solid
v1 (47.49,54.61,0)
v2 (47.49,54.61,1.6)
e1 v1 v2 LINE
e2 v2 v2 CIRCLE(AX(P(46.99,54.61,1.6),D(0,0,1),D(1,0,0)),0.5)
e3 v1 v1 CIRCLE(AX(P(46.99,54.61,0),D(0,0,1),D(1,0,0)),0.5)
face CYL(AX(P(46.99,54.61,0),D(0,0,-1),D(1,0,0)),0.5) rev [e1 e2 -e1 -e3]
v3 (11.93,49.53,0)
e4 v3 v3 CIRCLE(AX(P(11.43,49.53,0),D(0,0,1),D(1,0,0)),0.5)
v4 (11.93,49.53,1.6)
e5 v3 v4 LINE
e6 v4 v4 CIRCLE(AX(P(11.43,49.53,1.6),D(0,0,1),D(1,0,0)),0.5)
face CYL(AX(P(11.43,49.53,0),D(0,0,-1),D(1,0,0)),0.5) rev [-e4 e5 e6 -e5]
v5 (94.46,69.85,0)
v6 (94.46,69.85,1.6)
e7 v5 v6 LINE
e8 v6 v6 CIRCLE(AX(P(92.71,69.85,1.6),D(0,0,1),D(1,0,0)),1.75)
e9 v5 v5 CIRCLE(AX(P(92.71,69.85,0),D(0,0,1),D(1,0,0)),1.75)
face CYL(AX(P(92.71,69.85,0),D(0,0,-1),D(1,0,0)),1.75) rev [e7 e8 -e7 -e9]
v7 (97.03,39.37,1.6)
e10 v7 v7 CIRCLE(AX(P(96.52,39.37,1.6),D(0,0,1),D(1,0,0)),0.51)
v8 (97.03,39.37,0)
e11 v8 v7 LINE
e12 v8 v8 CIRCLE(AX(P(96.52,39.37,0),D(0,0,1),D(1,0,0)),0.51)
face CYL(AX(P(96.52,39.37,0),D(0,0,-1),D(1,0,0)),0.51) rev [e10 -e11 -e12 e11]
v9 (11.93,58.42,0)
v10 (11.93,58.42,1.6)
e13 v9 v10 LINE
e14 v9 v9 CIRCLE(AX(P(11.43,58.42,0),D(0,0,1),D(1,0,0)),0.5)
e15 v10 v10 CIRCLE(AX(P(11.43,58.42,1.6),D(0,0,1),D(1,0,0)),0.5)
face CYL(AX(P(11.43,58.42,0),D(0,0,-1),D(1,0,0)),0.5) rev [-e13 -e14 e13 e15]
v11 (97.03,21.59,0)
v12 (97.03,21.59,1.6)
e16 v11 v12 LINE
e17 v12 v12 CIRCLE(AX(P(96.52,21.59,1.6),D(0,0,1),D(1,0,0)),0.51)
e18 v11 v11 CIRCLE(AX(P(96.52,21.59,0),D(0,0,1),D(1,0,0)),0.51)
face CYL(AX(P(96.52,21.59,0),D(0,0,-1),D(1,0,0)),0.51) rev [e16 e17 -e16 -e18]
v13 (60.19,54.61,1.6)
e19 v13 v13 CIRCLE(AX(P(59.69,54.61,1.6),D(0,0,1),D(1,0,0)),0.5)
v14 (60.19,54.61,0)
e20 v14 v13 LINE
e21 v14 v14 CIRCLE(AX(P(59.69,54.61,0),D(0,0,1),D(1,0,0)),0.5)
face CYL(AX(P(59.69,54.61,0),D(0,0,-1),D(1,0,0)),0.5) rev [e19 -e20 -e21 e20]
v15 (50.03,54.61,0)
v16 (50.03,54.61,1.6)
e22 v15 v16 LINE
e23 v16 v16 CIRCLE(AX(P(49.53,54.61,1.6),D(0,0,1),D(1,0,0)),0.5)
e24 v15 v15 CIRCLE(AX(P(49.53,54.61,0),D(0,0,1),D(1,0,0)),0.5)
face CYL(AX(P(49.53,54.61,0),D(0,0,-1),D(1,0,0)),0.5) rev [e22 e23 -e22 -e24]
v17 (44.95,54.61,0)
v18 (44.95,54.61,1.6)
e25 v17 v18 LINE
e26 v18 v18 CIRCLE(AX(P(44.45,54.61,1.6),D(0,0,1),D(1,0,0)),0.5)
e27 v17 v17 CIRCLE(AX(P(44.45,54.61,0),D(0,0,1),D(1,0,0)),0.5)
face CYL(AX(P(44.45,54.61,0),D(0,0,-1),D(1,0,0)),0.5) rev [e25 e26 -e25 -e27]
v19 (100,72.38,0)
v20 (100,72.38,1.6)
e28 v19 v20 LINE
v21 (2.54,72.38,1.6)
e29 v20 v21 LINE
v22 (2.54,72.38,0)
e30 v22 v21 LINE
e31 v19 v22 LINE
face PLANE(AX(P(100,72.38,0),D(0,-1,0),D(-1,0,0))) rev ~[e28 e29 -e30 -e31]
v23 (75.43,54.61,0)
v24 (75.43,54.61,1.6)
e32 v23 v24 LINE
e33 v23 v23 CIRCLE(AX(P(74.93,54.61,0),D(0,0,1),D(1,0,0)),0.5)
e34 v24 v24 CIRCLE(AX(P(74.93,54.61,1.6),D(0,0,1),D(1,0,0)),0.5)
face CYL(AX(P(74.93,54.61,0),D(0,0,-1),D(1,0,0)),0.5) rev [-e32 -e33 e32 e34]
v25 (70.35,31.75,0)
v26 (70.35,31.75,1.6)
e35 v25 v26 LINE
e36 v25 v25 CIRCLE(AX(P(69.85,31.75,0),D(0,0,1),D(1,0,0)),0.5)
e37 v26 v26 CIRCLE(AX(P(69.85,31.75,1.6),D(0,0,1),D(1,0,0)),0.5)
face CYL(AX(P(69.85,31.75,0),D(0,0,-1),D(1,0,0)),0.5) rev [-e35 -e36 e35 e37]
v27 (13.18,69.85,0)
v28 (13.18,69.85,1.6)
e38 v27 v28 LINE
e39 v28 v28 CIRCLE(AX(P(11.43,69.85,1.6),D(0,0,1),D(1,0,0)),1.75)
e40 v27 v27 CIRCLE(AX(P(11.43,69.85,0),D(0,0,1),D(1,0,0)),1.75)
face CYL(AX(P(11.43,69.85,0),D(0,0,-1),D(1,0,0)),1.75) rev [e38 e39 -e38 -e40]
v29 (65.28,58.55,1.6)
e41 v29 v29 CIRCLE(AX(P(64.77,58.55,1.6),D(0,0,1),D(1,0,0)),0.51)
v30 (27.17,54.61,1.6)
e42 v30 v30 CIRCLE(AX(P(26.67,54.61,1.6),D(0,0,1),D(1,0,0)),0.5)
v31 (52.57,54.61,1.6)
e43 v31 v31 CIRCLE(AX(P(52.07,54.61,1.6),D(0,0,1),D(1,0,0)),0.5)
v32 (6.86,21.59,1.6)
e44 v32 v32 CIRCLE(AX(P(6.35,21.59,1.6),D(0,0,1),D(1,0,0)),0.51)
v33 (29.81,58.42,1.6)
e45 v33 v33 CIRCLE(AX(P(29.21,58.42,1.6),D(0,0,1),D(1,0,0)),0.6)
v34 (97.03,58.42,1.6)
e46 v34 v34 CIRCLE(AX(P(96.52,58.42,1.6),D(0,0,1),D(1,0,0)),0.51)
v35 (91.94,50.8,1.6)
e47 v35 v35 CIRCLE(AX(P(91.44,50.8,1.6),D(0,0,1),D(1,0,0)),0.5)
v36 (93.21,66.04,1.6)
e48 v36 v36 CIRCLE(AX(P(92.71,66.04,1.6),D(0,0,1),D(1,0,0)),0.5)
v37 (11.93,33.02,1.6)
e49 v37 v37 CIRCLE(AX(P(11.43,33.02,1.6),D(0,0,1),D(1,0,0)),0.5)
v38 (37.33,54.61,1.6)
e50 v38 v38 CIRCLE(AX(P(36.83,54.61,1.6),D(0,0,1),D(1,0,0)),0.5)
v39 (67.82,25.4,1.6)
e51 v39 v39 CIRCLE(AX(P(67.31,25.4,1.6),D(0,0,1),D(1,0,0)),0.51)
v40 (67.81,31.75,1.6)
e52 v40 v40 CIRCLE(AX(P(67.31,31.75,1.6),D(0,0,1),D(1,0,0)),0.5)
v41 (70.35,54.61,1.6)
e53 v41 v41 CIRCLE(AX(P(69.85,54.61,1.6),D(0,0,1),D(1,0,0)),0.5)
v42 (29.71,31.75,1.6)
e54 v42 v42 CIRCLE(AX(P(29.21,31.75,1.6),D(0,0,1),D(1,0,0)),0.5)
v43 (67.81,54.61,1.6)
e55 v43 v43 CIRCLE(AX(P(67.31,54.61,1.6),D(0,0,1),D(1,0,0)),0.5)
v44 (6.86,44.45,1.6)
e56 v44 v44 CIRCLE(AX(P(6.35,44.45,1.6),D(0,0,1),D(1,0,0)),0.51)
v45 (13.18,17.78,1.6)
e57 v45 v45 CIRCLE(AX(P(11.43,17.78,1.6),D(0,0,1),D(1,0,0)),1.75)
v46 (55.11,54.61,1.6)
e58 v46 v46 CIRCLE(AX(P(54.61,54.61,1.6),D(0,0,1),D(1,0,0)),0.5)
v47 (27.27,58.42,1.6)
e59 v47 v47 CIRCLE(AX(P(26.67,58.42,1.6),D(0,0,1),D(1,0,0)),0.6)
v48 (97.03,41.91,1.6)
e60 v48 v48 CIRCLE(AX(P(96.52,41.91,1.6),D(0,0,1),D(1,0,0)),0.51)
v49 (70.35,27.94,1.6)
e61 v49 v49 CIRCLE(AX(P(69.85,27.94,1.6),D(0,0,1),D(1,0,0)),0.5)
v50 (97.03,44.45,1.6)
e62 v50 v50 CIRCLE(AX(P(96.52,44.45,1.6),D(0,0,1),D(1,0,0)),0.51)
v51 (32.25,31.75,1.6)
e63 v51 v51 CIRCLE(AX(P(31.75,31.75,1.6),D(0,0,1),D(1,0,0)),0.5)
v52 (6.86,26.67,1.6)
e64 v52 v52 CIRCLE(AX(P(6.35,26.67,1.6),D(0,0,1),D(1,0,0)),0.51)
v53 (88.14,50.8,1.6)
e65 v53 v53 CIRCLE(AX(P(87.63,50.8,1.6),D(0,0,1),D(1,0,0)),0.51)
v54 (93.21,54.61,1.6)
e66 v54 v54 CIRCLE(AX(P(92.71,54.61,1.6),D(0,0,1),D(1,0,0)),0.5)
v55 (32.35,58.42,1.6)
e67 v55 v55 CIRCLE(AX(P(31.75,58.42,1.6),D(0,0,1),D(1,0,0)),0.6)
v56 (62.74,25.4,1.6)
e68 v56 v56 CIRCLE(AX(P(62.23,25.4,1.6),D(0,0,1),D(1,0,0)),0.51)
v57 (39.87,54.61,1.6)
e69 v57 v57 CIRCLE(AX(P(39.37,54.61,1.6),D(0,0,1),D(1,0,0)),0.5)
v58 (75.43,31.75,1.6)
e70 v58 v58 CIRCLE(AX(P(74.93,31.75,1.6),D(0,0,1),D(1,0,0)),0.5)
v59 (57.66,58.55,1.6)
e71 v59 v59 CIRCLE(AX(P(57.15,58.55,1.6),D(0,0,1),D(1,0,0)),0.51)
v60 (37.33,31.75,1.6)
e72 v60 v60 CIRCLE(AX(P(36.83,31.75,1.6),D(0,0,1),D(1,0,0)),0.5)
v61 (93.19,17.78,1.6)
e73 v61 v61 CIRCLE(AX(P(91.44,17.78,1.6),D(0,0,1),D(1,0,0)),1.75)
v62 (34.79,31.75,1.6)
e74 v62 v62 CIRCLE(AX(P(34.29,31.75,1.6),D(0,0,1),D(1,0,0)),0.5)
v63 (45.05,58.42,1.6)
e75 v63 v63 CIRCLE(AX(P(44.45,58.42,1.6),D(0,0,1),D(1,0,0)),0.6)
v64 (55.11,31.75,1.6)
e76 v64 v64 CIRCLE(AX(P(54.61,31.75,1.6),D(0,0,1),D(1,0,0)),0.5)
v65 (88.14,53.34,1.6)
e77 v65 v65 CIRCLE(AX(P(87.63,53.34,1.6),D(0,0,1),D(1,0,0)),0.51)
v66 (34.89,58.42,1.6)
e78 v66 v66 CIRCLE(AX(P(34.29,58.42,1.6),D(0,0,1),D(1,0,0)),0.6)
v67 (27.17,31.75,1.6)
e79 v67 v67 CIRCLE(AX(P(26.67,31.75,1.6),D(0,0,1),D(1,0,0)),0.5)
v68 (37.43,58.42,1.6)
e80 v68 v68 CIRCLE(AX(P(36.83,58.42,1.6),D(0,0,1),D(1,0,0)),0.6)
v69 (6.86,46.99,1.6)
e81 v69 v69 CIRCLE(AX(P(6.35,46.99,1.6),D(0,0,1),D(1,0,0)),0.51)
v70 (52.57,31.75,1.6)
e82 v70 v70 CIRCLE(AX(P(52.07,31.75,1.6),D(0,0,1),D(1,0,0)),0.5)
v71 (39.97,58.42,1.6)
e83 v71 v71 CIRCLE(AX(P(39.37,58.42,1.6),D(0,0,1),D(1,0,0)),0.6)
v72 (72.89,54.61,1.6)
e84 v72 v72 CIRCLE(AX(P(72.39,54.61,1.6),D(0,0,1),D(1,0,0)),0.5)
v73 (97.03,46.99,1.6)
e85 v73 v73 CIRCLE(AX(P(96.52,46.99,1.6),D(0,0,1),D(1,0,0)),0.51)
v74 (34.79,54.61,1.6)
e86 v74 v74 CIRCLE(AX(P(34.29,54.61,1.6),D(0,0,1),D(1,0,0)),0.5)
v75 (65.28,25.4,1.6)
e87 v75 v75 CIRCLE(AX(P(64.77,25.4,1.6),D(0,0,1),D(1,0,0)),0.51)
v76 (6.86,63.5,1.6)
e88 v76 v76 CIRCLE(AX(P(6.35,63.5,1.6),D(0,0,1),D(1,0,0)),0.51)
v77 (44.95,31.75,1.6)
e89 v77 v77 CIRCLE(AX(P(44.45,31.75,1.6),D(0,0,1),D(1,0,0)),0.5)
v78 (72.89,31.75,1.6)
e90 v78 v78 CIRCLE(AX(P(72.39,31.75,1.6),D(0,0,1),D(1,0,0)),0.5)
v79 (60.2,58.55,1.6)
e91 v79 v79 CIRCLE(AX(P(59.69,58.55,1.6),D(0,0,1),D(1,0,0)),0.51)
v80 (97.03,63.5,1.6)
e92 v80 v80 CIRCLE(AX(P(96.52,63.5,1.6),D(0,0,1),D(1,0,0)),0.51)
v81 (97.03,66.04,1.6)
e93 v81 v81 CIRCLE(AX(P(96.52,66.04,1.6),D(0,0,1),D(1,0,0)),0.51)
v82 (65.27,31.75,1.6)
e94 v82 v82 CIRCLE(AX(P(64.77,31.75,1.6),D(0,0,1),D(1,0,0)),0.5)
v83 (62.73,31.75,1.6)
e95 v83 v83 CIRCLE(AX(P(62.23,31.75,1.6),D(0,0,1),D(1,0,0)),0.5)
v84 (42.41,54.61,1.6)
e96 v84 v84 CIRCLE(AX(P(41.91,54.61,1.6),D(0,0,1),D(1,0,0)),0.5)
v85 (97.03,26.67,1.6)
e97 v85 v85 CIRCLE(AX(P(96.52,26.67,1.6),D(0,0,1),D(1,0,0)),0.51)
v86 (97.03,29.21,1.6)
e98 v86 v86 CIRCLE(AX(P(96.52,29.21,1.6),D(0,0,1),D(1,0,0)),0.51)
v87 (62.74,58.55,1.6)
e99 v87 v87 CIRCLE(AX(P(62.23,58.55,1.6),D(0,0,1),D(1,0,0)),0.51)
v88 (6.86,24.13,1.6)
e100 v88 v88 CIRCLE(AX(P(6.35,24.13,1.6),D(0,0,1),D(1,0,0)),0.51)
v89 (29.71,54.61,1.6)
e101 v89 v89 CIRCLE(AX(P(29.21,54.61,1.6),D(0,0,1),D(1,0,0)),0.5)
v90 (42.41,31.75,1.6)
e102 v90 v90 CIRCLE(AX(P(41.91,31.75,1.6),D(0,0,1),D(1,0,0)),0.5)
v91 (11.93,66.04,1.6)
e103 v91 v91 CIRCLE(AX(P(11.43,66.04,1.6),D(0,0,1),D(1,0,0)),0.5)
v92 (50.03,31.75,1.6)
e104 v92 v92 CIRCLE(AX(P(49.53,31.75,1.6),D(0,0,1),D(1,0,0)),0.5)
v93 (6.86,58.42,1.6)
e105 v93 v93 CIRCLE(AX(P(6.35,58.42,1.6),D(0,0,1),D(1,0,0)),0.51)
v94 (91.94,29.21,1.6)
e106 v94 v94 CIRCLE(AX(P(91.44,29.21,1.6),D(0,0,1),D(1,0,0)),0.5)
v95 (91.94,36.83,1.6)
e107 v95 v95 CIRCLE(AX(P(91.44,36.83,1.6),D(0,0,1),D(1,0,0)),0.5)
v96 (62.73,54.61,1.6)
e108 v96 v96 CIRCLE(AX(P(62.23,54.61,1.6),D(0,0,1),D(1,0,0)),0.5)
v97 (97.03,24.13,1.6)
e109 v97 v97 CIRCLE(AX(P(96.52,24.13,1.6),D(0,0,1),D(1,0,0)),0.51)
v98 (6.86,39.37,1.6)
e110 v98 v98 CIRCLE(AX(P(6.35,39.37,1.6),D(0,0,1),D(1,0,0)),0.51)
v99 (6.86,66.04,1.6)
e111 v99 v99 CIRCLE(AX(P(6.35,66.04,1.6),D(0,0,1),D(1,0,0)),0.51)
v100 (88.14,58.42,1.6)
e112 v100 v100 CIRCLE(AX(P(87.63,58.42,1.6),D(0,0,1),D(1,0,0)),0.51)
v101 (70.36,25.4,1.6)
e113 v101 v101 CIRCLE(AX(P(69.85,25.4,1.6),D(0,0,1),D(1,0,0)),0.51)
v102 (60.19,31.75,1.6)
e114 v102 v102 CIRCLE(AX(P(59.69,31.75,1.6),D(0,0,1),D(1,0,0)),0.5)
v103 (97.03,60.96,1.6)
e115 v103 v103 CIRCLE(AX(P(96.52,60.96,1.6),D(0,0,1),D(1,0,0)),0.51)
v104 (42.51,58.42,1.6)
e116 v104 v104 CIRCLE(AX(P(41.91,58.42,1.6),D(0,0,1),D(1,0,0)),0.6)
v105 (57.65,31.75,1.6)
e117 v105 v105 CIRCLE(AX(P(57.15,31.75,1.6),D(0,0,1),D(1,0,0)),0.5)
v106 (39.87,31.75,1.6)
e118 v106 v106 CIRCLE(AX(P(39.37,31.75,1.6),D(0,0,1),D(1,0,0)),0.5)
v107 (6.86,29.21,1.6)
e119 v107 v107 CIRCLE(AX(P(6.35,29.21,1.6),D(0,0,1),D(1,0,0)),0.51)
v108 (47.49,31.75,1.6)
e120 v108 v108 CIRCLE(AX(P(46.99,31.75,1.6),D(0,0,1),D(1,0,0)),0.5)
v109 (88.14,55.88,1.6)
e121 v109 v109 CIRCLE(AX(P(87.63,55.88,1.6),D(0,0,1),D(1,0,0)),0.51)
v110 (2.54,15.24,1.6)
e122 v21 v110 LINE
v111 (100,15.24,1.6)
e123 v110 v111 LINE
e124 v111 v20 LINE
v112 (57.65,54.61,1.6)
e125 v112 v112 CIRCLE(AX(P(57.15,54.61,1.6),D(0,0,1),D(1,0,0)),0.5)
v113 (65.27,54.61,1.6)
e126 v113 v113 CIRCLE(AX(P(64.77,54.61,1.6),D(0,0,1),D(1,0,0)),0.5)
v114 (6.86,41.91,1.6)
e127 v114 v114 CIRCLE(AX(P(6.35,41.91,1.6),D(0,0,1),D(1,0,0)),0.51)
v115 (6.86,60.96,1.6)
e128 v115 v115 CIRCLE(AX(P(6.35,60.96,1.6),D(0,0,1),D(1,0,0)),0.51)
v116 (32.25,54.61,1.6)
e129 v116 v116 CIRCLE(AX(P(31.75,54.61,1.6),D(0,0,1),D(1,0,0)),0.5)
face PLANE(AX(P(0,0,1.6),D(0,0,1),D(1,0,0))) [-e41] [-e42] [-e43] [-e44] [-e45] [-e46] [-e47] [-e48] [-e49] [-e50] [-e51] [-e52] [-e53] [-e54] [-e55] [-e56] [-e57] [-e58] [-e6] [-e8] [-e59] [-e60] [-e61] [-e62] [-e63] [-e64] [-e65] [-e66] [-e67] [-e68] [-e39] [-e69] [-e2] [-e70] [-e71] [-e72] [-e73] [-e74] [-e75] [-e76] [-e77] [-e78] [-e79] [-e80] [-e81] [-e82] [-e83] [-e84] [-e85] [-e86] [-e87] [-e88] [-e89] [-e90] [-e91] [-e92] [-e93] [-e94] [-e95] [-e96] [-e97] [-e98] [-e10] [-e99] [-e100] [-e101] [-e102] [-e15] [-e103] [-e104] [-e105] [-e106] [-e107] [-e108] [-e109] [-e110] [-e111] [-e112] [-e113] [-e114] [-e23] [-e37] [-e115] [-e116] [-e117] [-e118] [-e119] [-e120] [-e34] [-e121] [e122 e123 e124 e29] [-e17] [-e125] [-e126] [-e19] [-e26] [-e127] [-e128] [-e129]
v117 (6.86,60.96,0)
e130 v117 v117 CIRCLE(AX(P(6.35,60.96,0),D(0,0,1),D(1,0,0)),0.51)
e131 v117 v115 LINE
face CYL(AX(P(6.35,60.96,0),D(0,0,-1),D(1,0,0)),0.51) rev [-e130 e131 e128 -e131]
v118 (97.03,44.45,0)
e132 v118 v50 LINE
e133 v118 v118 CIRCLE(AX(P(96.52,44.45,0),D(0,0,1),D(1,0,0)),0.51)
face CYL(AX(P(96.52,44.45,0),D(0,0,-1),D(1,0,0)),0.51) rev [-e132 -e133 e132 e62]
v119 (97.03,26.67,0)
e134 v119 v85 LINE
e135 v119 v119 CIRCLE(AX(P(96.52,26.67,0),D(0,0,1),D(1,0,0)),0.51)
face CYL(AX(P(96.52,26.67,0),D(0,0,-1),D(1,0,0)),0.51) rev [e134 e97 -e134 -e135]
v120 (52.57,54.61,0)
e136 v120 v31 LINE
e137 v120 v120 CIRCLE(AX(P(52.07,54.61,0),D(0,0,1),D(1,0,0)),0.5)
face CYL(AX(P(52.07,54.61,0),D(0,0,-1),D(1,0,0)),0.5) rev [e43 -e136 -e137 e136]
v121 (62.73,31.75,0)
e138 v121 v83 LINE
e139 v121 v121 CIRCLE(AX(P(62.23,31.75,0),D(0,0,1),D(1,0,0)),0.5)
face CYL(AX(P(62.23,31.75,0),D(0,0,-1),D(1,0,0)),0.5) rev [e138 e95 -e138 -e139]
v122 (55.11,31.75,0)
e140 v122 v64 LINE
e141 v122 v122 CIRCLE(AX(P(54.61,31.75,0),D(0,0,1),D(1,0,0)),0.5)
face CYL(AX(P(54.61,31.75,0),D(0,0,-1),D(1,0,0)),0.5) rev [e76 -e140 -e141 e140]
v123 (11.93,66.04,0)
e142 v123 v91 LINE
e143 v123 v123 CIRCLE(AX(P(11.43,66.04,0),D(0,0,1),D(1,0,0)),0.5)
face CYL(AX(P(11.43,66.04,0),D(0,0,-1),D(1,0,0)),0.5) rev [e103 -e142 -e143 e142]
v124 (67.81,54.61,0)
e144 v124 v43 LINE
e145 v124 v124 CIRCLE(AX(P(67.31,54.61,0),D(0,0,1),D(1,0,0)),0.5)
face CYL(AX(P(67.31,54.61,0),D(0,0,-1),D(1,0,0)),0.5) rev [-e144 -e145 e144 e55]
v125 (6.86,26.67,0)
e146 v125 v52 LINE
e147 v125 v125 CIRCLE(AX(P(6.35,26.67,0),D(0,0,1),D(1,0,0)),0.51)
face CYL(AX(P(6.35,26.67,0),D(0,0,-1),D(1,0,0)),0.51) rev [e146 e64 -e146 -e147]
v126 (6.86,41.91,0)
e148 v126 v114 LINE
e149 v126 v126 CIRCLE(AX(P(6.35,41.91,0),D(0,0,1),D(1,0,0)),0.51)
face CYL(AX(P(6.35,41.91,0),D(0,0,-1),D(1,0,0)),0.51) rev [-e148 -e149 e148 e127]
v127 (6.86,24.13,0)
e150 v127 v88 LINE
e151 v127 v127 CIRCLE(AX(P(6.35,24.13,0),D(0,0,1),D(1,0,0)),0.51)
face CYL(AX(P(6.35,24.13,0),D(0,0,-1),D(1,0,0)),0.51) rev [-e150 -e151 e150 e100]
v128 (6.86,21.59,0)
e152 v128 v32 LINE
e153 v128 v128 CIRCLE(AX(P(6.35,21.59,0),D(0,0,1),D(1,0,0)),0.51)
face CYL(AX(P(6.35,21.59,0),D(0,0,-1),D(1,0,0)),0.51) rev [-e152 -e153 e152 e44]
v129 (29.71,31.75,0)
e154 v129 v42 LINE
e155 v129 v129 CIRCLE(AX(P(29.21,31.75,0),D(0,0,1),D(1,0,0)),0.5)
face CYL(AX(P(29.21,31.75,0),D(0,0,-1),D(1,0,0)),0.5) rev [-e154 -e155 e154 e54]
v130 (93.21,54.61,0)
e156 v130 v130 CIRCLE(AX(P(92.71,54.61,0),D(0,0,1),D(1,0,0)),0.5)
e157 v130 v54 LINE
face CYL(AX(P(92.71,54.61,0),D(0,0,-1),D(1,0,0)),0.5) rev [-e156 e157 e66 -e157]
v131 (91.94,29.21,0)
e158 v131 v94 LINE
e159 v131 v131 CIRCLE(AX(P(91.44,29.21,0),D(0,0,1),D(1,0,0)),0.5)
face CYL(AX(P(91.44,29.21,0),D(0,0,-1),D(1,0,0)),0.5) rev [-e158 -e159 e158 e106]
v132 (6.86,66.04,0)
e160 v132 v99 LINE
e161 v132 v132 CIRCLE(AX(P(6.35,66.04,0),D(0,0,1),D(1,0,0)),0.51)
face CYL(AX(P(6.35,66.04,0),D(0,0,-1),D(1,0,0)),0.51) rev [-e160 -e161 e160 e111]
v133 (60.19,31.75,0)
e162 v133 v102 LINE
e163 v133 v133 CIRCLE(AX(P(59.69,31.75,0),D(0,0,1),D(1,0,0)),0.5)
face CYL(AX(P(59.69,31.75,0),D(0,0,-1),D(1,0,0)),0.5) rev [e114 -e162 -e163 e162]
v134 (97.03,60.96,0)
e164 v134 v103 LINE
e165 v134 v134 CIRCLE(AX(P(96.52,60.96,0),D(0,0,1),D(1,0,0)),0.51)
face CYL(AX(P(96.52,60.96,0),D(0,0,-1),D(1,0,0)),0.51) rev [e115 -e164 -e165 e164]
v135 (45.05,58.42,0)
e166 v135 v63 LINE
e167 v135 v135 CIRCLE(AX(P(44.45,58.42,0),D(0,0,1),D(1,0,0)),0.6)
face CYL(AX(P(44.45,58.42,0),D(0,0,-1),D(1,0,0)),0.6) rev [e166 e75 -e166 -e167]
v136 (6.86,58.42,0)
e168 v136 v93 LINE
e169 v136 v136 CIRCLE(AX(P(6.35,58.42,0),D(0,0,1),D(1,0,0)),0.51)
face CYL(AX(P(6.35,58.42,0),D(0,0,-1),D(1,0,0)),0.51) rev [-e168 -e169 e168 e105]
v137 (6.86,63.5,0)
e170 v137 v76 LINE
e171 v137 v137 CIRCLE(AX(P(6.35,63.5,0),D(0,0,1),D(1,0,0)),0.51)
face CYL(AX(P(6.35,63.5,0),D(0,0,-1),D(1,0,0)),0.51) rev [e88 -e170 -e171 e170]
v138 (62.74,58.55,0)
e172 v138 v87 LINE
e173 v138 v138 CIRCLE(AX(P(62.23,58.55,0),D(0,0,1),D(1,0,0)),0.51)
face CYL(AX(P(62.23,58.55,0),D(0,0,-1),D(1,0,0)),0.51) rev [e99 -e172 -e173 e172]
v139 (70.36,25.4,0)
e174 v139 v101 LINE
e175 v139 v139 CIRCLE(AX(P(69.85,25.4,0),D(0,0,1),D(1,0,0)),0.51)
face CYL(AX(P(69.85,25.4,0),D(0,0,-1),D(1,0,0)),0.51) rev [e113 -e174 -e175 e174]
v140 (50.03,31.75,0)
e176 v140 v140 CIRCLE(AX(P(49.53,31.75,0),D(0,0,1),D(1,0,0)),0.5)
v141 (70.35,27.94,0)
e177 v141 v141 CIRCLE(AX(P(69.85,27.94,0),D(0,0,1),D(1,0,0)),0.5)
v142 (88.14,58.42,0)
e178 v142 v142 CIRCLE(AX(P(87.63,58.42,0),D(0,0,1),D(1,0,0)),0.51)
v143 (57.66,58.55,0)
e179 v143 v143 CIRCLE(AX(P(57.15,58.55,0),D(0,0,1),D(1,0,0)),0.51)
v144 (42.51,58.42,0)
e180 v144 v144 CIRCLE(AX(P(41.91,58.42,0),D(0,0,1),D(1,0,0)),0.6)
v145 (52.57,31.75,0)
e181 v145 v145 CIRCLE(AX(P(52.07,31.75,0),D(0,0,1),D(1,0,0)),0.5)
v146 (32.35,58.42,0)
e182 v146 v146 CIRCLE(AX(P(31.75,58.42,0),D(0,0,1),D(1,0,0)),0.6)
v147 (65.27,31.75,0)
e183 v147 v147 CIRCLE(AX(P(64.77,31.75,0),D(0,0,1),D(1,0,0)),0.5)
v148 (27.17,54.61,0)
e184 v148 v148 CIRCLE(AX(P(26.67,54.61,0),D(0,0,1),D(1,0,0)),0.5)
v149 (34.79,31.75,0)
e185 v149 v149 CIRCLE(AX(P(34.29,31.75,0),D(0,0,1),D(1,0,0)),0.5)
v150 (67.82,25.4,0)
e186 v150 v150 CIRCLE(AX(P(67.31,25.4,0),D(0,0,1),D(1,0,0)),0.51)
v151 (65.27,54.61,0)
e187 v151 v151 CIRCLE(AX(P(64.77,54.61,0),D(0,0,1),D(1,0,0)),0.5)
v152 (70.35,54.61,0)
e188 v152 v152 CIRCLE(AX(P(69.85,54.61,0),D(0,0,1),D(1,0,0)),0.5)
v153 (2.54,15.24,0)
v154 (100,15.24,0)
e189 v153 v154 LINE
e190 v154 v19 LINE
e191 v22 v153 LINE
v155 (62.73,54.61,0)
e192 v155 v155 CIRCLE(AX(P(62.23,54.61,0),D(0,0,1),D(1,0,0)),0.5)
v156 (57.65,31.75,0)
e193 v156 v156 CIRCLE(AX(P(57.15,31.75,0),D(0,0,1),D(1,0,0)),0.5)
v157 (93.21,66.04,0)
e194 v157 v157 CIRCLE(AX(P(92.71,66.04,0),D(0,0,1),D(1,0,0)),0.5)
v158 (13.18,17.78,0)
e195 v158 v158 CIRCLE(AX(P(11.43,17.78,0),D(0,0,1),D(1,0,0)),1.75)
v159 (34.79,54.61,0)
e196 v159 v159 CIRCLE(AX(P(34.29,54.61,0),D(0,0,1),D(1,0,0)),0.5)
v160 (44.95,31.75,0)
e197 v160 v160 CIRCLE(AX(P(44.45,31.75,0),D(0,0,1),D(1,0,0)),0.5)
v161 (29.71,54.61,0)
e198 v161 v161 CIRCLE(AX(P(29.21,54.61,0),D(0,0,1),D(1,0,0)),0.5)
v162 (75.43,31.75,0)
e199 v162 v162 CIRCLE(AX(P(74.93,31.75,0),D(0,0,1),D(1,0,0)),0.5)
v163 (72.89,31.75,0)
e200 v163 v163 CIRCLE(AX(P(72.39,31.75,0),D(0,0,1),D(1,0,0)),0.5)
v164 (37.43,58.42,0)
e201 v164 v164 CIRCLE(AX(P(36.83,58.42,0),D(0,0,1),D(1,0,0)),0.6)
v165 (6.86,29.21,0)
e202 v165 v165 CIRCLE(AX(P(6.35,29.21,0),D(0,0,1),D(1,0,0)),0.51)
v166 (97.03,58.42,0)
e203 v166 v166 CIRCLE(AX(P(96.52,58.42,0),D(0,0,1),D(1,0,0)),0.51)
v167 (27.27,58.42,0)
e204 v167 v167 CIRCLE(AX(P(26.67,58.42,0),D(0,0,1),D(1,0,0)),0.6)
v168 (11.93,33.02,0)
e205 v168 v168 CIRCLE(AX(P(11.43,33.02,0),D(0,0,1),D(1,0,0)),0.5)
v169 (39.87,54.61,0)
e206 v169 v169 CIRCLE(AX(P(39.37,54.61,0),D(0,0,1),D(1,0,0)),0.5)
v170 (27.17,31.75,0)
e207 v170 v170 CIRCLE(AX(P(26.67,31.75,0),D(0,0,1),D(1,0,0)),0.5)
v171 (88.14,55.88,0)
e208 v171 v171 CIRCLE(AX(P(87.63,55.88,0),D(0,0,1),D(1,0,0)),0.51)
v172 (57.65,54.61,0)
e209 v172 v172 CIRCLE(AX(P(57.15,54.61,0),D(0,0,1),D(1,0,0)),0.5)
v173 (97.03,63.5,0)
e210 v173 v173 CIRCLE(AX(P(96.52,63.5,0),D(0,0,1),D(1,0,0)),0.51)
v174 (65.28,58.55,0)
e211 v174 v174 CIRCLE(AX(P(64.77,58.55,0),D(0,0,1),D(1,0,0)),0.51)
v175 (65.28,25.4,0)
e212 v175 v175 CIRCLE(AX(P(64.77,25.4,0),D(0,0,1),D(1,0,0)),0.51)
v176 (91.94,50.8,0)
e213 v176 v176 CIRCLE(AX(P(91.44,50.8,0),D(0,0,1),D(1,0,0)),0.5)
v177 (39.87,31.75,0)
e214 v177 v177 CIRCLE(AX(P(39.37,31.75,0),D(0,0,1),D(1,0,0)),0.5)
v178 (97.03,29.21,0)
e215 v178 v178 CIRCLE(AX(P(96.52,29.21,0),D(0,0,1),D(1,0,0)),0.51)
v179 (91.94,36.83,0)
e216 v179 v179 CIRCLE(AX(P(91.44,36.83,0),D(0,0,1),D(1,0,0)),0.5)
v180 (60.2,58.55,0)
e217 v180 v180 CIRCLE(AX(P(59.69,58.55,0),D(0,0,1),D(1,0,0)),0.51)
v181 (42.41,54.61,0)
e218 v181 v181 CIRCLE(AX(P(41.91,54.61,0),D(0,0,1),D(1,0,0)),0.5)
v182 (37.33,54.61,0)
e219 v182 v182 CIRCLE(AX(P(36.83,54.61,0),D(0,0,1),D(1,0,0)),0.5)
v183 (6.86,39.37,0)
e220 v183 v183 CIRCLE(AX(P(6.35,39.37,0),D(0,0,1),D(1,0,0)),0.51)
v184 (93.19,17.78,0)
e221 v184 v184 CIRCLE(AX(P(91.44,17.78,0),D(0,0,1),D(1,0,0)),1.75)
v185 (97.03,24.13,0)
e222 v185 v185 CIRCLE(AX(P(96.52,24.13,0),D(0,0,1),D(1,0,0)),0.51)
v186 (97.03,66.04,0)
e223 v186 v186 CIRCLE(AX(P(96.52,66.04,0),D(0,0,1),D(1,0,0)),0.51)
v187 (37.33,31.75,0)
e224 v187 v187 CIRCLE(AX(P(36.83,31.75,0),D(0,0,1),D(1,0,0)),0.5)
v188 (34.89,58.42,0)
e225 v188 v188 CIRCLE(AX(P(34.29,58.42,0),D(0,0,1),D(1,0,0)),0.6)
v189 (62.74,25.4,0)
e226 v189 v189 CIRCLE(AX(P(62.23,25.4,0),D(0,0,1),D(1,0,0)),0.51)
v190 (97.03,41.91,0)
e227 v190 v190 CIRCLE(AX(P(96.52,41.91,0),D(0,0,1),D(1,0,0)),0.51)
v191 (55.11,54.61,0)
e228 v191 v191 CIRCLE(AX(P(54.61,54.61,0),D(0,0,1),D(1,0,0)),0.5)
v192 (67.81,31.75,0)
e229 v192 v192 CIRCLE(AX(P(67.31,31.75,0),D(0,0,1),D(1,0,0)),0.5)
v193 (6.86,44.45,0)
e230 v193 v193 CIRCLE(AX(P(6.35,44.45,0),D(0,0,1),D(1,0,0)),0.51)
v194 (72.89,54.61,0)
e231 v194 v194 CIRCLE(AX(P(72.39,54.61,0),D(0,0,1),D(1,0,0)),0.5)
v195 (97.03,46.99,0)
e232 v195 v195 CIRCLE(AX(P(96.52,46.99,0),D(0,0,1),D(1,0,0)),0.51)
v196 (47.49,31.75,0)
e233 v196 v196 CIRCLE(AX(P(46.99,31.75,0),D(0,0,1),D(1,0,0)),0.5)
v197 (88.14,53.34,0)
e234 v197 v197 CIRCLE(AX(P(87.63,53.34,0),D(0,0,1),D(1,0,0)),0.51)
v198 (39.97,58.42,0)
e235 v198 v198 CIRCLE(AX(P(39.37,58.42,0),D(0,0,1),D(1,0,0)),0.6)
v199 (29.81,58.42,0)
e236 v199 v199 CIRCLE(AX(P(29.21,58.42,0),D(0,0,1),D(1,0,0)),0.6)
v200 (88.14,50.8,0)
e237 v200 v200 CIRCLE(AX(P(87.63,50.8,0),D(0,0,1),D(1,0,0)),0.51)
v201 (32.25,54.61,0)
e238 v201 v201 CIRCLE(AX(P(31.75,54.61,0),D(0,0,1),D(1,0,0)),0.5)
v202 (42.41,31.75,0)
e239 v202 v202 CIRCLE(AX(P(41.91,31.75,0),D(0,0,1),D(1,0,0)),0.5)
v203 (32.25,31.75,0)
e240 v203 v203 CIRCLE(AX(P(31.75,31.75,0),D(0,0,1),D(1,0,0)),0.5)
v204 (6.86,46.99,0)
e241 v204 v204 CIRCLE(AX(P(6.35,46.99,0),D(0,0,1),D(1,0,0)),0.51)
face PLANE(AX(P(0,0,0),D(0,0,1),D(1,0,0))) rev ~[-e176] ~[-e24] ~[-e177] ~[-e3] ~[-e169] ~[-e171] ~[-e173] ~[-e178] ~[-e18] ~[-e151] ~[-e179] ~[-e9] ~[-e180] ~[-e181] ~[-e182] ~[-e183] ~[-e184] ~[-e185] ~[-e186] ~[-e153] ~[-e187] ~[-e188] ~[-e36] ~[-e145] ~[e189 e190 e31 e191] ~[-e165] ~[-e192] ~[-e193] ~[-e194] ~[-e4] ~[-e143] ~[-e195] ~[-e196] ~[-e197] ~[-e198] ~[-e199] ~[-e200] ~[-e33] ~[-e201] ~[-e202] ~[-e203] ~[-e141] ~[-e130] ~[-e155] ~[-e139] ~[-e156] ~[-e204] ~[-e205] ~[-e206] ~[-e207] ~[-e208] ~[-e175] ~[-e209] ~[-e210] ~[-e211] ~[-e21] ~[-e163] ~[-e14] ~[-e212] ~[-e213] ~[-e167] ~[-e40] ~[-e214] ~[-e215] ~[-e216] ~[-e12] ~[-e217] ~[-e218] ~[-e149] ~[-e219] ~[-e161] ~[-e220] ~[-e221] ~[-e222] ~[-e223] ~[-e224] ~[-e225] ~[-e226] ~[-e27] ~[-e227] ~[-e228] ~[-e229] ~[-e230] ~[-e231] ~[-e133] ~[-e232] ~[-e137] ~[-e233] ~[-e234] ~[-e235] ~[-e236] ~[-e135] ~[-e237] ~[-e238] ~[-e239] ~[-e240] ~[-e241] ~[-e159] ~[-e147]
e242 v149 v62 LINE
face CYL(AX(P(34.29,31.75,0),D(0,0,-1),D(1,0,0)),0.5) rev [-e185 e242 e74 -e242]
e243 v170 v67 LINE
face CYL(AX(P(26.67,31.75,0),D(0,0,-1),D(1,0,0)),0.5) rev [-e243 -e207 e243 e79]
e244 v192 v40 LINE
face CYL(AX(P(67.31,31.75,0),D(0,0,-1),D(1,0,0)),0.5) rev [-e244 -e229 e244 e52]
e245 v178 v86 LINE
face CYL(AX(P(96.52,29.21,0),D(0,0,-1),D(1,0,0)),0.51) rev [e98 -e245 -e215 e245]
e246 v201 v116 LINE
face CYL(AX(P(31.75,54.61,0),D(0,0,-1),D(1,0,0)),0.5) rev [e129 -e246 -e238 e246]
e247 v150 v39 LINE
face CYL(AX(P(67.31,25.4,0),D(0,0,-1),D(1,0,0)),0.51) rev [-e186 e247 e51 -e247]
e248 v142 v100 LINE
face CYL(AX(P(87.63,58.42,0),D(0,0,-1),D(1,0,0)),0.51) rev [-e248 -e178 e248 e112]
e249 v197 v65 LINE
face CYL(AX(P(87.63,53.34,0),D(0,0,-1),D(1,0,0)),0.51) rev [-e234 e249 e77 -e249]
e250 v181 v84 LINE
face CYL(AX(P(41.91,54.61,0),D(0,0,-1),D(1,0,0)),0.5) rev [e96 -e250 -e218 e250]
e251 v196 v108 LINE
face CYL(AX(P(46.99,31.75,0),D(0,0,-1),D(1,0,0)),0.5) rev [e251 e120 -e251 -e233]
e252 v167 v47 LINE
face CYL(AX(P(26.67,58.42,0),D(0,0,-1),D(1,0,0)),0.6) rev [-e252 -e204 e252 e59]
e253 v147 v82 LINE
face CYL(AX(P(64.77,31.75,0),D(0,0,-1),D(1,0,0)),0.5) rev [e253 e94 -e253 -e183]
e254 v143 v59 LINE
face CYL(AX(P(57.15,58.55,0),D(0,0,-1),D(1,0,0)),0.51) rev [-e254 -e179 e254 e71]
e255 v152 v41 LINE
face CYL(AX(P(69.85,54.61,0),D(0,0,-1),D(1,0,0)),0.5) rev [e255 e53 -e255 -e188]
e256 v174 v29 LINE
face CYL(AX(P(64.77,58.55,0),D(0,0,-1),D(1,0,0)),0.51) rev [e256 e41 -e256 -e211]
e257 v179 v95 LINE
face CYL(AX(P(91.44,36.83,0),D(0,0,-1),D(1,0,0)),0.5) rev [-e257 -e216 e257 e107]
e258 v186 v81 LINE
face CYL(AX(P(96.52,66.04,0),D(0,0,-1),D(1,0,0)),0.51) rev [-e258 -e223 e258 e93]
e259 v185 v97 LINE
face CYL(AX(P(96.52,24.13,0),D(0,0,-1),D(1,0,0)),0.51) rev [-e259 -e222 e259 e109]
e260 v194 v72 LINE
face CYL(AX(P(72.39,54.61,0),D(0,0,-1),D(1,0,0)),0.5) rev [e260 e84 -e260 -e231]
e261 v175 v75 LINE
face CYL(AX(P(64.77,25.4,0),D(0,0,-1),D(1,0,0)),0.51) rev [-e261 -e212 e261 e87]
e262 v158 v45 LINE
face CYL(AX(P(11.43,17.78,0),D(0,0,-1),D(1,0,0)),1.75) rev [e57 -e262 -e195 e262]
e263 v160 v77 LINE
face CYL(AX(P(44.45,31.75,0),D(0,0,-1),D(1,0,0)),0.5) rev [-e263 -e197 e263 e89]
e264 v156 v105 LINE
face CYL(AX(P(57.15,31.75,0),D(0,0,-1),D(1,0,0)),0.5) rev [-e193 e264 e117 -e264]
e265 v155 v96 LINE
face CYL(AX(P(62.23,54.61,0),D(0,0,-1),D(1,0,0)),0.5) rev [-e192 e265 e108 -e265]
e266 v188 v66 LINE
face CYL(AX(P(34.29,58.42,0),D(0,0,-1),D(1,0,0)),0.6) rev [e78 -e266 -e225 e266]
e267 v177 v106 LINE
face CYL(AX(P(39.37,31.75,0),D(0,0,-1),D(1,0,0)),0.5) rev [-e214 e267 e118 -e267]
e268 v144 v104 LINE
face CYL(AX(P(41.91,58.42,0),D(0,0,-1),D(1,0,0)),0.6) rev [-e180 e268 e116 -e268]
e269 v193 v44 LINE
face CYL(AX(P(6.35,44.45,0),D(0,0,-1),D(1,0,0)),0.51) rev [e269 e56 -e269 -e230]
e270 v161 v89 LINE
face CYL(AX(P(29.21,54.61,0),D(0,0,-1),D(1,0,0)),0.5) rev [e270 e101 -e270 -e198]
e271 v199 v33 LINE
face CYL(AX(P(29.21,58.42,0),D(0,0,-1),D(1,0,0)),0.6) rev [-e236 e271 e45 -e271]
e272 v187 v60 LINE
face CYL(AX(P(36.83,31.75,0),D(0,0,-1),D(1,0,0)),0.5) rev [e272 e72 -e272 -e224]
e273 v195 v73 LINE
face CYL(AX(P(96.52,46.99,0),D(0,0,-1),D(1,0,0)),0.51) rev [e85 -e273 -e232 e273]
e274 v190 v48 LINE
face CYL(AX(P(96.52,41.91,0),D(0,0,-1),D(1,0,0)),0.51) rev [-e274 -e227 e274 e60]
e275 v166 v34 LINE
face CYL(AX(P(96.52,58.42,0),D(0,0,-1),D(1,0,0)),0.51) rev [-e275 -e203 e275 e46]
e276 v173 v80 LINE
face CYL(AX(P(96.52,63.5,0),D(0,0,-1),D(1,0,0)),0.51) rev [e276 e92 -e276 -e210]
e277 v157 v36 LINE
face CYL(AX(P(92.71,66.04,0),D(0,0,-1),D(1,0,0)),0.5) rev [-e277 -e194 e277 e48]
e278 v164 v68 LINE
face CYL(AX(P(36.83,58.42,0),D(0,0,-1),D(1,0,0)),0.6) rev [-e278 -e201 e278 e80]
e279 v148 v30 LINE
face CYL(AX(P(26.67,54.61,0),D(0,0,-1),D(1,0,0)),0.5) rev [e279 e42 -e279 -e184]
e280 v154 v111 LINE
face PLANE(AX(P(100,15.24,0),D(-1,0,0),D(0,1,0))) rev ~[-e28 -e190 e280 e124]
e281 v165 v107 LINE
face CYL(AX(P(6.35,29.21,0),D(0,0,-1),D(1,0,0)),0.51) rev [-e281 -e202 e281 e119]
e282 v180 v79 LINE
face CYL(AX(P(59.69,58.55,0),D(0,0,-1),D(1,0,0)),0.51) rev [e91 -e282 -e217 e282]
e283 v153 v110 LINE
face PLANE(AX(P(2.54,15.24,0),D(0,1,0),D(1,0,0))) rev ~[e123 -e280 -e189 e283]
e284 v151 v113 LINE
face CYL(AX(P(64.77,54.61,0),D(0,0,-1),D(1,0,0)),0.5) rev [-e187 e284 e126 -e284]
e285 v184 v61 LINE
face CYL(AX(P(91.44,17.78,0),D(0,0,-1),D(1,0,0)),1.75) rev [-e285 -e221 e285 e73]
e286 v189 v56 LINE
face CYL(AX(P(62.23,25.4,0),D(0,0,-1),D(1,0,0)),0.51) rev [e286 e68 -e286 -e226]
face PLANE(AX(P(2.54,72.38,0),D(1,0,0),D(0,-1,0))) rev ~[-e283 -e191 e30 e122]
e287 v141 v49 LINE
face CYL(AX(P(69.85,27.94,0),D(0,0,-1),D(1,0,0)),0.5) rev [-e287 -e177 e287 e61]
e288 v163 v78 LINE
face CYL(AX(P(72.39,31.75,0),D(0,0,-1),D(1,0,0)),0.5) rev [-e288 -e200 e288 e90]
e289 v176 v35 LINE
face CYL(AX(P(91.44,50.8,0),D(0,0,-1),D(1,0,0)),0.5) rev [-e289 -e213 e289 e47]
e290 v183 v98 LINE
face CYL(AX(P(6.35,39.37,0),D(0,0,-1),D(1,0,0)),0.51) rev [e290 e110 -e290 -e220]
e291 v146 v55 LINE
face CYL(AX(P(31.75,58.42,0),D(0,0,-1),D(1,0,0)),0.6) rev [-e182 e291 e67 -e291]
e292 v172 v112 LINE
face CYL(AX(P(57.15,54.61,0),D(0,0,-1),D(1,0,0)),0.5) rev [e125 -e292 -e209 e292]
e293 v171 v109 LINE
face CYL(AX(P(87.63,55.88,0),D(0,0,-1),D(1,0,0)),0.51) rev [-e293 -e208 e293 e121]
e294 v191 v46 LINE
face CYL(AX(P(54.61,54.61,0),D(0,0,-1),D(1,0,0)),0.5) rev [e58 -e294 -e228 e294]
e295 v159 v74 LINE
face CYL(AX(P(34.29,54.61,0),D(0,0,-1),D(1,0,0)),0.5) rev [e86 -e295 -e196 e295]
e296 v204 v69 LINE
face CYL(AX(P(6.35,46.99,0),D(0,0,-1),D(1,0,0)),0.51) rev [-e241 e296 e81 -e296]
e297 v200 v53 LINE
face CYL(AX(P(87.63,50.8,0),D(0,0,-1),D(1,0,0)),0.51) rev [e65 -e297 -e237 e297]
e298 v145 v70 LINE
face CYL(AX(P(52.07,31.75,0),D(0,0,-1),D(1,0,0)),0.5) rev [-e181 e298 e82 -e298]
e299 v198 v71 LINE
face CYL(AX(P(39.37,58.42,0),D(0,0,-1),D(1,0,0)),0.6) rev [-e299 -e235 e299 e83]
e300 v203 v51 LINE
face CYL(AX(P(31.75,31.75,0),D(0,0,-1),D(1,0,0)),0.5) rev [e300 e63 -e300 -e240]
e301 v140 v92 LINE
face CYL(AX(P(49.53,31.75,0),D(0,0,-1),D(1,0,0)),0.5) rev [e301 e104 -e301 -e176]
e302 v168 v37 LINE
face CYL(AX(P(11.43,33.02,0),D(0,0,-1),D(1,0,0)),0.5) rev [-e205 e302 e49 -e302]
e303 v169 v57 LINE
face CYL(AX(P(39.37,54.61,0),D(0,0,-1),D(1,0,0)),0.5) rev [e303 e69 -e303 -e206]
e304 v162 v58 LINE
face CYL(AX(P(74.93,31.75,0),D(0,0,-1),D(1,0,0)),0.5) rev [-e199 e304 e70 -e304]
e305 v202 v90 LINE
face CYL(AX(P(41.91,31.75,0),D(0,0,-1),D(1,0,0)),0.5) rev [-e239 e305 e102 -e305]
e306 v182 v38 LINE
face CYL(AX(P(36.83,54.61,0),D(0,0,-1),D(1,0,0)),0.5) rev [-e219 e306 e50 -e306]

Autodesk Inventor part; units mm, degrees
ref_plane "YZ Plane" through (0, 0, 0) normal (1, 0, 0) x (0, 1, 0)
ref_plane "XZ Plane" through (0, 0, 0) normal (0, 1, 0) x (-1, 0, 0)
ref_plane "XY Plane" through (0, 0, 0) normal (0, 0, 1) x (1, 0, 0)
sketch "Эскиз1" plane through (0, 0, 0) normal (0, 0, 1) x (1, 0, 0)
  line L0 (2.54, 15.24) -> (100, 15.24)
  line L1 (100, 15.24) -> (100, 72.38)
  line L2 (100, 72.38) -> (2.54, 72.38)
  line L3 (2.54, 72.38) -> (2.54, 15.24)
  circle A0 centre (6.35, 46.99) radius 0.51
  circle A1 centre (6.35, 44.45) radius 0.51
  circle A2 centre (6.35, 41.91) radius 0.51
  circle A3 centre (6.35, 39.37) radius 0.51
  circle A4 centre (96.52, 39.37) radius 0.51
  circle A5 centre (96.52, 41.91) radius 0.51
  circle A6 centre (96.52, 44.45) radius 0.51
  circle A7 centre (96.52, 46.99) radius 0.51
  circle A8 centre (6.35, 58.42) radius 0.51
  circle A9 centre (6.35, 60.96) radius 0.51
  circle A10 centre (6.35, 63.5) radius 0.51
  circle A11 centre (6.35, 66.04) radius 0.51
  circle A12 centre (6.35, 21.59) radius 0.51
  circle A13 centre (6.35, 24.13) radius 0.51
  circle A14 centre (6.35, 26.67) radius 0.51
  circle A15 centre (6.35, 29.21) radius 0.51
  circle A16 centre (96.52, 66.04) radius 0.51
  circle A17 centre (96.52, 63.5) radius 0.51
  circle A18 centre (96.52, 60.96) radius 0.51
  circle A19 centre (96.52, 58.42) radius 0.51
  circle A20 centre (96.52, 21.59) radius 0.51
  circle A21 centre (96.52, 24.13) radius 0.51
  circle A22 centre (96.52, 26.67) radius 0.51
  circle A23 centre (96.52, 29.21) radius 0.51
  circle A24 centre (69.85, 25.4) radius 0.51
  circle A25 centre (67.31, 25.4) radius 0.51
  circle A26 centre (64.77, 25.4) radius 0.51
  circle A27 centre (62.23, 25.4) radius 0.51
  circle A28 centre (87.63, 50.8) radius 0.51
  circle A29 centre (87.63, 53.34) radius 0.51
  circle A30 centre (87.63, 55.88) radius 0.51
  circle A31 centre (87.63, 58.42) radius 0.51
  circle A32 centre (57.15, 58.55) radius 0.51
  circle A33 centre (59.69, 58.55) radius 0.51
  circle A34 centre (62.23, 58.55) radius 0.51
  circle A35 centre (64.77, 58.55) radius 0.51
  circle A36 centre (26.67, 58.42) radius 0.6
  circle A37 centre (29.21, 58.42) radius 0.6
  circle A38 centre (31.75, 58.42) radius 0.6
  circle A39 centre (34.29, 58.42) radius 0.6
  circle A40 centre (36.83, 58.42) radius 0.6
  circle A41 centre (39.37, 58.42) radius 0.6
  circle A42 centre (41.91, 58.42) radius 0.6
  circle A43 centre (44.45, 58.42) radius 0.6
  circle A44 centre (36.83, 31.75) radius 0.5
  circle A45 centre (39.37, 31.75) radius 0.5
  circle A46 centre (41.91, 31.75) radius 0.5
  circle A47 centre (44.45, 31.75) radius 0.5
  circle A48 centre (31.75, 31.75) radius 0.5
  circle A49 centre (46.99, 31.75) radius 0.5
  circle A50 centre (49.53, 31.75) radius 0.5
  circle A51 centre (29.21, 31.75) radius 0.5
  circle A52 centre (72.39, 54.61) radius 0.5
  circle A53 centre (52.07, 31.75) radius 0.5
  circle A54 centre (54.61, 31.75) radius 0.5
  circle A55 centre (57.15, 31.75) radius 0.5
  circle A56 centre (59.69, 31.75) radius 0.5
  circle A57 centre (62.23, 31.75) radius 0.5
  circle A58 centre (64.77, 31.75) radius 0.5
  circle A59 centre (67.31, 31.75) radius 0.5
  circle A60 centre (69.85, 31.75) radius 0.5
  circle A61 centre (72.39, 31.75) radius 0.5
  circle A62 centre (74.93, 31.75) radius 0.5
  circle A63 centre (46.99, 54.61) radius 0.5
  circle A64 centre (49.53, 54.61) radius 0.5
  circle A65 centre (52.07, 54.61) radius 0.5
  circle A66 centre (54.61, 54.61) radius 0.5
  circle A67 centre (57.15, 54.61) radius 0.5
  circle A68 centre (59.69, 54.61) radius 0.5
  circle A69 centre (62.23, 54.61) radius 0.5
  circle A70 centre (64.77, 54.61) radius 0.5
  circle A71 centre (67.31, 54.61) radius 0.5
  circle A72 centre (69.85, 54.61) radius 0.5
  circle A73 centre (74.93, 54.61) radius 0.5
  circle A74 centre (39.37, 54.61) radius 0.5
  circle A75 centre (34.29, 31.75) radius 0.5
  circle A76 centre (31.75, 54.61) radius 0.5
  circle A77 centre (34.29, 54.61) radius 0.5
  circle A78 centre (44.45, 54.61) radius 0.5
  circle A79 centre (26.67, 31.75) radius 0.5
  circle A80 centre (36.83, 54.61) radius 0.5
  circle A81 centre (26.67, 54.61) radius 0.5
  circle A82 centre (29.21, 54.61) radius 0.5
  circle A83 centre (41.91, 54.61) radius 0.5
  circle A84 centre (11.43, 17.78) radius 1.75
  circle A85 centre (91.44, 17.78) radius 1.75
  circle A86 centre (92.71, 69.85) radius 1.75
  circle A87 centre (11.43, 69.85) radius 1.75
  circle A88 centre (11.43, 66.04) radius 0.5
  circle A89 centre (11.43, 58.42) radius 0.5
  circle A90 centre (11.43, 49.53) radius 0.5
  circle A91 centre (11.43, 33.02) radius 0.5
  circle A92 centre (92.71, 66.04) radius 0.5
  circle A93 centre (92.71, 54.61) radius 0.5
  circle A94 centre (91.44, 50.8) radius 0.5
  circle A95 centre (91.44, 36.83) radius 0.5
  circle A96 centre (91.44, 29.21) radius 0.5
  circle A97 centre (69.85, 27.94) radius 0.5
extrude "low_level_contoller_board.brdКонтур" add sketch "Эскиз1" along normal blind 1.6
properties part number "low_level_contoller_board.brd"
